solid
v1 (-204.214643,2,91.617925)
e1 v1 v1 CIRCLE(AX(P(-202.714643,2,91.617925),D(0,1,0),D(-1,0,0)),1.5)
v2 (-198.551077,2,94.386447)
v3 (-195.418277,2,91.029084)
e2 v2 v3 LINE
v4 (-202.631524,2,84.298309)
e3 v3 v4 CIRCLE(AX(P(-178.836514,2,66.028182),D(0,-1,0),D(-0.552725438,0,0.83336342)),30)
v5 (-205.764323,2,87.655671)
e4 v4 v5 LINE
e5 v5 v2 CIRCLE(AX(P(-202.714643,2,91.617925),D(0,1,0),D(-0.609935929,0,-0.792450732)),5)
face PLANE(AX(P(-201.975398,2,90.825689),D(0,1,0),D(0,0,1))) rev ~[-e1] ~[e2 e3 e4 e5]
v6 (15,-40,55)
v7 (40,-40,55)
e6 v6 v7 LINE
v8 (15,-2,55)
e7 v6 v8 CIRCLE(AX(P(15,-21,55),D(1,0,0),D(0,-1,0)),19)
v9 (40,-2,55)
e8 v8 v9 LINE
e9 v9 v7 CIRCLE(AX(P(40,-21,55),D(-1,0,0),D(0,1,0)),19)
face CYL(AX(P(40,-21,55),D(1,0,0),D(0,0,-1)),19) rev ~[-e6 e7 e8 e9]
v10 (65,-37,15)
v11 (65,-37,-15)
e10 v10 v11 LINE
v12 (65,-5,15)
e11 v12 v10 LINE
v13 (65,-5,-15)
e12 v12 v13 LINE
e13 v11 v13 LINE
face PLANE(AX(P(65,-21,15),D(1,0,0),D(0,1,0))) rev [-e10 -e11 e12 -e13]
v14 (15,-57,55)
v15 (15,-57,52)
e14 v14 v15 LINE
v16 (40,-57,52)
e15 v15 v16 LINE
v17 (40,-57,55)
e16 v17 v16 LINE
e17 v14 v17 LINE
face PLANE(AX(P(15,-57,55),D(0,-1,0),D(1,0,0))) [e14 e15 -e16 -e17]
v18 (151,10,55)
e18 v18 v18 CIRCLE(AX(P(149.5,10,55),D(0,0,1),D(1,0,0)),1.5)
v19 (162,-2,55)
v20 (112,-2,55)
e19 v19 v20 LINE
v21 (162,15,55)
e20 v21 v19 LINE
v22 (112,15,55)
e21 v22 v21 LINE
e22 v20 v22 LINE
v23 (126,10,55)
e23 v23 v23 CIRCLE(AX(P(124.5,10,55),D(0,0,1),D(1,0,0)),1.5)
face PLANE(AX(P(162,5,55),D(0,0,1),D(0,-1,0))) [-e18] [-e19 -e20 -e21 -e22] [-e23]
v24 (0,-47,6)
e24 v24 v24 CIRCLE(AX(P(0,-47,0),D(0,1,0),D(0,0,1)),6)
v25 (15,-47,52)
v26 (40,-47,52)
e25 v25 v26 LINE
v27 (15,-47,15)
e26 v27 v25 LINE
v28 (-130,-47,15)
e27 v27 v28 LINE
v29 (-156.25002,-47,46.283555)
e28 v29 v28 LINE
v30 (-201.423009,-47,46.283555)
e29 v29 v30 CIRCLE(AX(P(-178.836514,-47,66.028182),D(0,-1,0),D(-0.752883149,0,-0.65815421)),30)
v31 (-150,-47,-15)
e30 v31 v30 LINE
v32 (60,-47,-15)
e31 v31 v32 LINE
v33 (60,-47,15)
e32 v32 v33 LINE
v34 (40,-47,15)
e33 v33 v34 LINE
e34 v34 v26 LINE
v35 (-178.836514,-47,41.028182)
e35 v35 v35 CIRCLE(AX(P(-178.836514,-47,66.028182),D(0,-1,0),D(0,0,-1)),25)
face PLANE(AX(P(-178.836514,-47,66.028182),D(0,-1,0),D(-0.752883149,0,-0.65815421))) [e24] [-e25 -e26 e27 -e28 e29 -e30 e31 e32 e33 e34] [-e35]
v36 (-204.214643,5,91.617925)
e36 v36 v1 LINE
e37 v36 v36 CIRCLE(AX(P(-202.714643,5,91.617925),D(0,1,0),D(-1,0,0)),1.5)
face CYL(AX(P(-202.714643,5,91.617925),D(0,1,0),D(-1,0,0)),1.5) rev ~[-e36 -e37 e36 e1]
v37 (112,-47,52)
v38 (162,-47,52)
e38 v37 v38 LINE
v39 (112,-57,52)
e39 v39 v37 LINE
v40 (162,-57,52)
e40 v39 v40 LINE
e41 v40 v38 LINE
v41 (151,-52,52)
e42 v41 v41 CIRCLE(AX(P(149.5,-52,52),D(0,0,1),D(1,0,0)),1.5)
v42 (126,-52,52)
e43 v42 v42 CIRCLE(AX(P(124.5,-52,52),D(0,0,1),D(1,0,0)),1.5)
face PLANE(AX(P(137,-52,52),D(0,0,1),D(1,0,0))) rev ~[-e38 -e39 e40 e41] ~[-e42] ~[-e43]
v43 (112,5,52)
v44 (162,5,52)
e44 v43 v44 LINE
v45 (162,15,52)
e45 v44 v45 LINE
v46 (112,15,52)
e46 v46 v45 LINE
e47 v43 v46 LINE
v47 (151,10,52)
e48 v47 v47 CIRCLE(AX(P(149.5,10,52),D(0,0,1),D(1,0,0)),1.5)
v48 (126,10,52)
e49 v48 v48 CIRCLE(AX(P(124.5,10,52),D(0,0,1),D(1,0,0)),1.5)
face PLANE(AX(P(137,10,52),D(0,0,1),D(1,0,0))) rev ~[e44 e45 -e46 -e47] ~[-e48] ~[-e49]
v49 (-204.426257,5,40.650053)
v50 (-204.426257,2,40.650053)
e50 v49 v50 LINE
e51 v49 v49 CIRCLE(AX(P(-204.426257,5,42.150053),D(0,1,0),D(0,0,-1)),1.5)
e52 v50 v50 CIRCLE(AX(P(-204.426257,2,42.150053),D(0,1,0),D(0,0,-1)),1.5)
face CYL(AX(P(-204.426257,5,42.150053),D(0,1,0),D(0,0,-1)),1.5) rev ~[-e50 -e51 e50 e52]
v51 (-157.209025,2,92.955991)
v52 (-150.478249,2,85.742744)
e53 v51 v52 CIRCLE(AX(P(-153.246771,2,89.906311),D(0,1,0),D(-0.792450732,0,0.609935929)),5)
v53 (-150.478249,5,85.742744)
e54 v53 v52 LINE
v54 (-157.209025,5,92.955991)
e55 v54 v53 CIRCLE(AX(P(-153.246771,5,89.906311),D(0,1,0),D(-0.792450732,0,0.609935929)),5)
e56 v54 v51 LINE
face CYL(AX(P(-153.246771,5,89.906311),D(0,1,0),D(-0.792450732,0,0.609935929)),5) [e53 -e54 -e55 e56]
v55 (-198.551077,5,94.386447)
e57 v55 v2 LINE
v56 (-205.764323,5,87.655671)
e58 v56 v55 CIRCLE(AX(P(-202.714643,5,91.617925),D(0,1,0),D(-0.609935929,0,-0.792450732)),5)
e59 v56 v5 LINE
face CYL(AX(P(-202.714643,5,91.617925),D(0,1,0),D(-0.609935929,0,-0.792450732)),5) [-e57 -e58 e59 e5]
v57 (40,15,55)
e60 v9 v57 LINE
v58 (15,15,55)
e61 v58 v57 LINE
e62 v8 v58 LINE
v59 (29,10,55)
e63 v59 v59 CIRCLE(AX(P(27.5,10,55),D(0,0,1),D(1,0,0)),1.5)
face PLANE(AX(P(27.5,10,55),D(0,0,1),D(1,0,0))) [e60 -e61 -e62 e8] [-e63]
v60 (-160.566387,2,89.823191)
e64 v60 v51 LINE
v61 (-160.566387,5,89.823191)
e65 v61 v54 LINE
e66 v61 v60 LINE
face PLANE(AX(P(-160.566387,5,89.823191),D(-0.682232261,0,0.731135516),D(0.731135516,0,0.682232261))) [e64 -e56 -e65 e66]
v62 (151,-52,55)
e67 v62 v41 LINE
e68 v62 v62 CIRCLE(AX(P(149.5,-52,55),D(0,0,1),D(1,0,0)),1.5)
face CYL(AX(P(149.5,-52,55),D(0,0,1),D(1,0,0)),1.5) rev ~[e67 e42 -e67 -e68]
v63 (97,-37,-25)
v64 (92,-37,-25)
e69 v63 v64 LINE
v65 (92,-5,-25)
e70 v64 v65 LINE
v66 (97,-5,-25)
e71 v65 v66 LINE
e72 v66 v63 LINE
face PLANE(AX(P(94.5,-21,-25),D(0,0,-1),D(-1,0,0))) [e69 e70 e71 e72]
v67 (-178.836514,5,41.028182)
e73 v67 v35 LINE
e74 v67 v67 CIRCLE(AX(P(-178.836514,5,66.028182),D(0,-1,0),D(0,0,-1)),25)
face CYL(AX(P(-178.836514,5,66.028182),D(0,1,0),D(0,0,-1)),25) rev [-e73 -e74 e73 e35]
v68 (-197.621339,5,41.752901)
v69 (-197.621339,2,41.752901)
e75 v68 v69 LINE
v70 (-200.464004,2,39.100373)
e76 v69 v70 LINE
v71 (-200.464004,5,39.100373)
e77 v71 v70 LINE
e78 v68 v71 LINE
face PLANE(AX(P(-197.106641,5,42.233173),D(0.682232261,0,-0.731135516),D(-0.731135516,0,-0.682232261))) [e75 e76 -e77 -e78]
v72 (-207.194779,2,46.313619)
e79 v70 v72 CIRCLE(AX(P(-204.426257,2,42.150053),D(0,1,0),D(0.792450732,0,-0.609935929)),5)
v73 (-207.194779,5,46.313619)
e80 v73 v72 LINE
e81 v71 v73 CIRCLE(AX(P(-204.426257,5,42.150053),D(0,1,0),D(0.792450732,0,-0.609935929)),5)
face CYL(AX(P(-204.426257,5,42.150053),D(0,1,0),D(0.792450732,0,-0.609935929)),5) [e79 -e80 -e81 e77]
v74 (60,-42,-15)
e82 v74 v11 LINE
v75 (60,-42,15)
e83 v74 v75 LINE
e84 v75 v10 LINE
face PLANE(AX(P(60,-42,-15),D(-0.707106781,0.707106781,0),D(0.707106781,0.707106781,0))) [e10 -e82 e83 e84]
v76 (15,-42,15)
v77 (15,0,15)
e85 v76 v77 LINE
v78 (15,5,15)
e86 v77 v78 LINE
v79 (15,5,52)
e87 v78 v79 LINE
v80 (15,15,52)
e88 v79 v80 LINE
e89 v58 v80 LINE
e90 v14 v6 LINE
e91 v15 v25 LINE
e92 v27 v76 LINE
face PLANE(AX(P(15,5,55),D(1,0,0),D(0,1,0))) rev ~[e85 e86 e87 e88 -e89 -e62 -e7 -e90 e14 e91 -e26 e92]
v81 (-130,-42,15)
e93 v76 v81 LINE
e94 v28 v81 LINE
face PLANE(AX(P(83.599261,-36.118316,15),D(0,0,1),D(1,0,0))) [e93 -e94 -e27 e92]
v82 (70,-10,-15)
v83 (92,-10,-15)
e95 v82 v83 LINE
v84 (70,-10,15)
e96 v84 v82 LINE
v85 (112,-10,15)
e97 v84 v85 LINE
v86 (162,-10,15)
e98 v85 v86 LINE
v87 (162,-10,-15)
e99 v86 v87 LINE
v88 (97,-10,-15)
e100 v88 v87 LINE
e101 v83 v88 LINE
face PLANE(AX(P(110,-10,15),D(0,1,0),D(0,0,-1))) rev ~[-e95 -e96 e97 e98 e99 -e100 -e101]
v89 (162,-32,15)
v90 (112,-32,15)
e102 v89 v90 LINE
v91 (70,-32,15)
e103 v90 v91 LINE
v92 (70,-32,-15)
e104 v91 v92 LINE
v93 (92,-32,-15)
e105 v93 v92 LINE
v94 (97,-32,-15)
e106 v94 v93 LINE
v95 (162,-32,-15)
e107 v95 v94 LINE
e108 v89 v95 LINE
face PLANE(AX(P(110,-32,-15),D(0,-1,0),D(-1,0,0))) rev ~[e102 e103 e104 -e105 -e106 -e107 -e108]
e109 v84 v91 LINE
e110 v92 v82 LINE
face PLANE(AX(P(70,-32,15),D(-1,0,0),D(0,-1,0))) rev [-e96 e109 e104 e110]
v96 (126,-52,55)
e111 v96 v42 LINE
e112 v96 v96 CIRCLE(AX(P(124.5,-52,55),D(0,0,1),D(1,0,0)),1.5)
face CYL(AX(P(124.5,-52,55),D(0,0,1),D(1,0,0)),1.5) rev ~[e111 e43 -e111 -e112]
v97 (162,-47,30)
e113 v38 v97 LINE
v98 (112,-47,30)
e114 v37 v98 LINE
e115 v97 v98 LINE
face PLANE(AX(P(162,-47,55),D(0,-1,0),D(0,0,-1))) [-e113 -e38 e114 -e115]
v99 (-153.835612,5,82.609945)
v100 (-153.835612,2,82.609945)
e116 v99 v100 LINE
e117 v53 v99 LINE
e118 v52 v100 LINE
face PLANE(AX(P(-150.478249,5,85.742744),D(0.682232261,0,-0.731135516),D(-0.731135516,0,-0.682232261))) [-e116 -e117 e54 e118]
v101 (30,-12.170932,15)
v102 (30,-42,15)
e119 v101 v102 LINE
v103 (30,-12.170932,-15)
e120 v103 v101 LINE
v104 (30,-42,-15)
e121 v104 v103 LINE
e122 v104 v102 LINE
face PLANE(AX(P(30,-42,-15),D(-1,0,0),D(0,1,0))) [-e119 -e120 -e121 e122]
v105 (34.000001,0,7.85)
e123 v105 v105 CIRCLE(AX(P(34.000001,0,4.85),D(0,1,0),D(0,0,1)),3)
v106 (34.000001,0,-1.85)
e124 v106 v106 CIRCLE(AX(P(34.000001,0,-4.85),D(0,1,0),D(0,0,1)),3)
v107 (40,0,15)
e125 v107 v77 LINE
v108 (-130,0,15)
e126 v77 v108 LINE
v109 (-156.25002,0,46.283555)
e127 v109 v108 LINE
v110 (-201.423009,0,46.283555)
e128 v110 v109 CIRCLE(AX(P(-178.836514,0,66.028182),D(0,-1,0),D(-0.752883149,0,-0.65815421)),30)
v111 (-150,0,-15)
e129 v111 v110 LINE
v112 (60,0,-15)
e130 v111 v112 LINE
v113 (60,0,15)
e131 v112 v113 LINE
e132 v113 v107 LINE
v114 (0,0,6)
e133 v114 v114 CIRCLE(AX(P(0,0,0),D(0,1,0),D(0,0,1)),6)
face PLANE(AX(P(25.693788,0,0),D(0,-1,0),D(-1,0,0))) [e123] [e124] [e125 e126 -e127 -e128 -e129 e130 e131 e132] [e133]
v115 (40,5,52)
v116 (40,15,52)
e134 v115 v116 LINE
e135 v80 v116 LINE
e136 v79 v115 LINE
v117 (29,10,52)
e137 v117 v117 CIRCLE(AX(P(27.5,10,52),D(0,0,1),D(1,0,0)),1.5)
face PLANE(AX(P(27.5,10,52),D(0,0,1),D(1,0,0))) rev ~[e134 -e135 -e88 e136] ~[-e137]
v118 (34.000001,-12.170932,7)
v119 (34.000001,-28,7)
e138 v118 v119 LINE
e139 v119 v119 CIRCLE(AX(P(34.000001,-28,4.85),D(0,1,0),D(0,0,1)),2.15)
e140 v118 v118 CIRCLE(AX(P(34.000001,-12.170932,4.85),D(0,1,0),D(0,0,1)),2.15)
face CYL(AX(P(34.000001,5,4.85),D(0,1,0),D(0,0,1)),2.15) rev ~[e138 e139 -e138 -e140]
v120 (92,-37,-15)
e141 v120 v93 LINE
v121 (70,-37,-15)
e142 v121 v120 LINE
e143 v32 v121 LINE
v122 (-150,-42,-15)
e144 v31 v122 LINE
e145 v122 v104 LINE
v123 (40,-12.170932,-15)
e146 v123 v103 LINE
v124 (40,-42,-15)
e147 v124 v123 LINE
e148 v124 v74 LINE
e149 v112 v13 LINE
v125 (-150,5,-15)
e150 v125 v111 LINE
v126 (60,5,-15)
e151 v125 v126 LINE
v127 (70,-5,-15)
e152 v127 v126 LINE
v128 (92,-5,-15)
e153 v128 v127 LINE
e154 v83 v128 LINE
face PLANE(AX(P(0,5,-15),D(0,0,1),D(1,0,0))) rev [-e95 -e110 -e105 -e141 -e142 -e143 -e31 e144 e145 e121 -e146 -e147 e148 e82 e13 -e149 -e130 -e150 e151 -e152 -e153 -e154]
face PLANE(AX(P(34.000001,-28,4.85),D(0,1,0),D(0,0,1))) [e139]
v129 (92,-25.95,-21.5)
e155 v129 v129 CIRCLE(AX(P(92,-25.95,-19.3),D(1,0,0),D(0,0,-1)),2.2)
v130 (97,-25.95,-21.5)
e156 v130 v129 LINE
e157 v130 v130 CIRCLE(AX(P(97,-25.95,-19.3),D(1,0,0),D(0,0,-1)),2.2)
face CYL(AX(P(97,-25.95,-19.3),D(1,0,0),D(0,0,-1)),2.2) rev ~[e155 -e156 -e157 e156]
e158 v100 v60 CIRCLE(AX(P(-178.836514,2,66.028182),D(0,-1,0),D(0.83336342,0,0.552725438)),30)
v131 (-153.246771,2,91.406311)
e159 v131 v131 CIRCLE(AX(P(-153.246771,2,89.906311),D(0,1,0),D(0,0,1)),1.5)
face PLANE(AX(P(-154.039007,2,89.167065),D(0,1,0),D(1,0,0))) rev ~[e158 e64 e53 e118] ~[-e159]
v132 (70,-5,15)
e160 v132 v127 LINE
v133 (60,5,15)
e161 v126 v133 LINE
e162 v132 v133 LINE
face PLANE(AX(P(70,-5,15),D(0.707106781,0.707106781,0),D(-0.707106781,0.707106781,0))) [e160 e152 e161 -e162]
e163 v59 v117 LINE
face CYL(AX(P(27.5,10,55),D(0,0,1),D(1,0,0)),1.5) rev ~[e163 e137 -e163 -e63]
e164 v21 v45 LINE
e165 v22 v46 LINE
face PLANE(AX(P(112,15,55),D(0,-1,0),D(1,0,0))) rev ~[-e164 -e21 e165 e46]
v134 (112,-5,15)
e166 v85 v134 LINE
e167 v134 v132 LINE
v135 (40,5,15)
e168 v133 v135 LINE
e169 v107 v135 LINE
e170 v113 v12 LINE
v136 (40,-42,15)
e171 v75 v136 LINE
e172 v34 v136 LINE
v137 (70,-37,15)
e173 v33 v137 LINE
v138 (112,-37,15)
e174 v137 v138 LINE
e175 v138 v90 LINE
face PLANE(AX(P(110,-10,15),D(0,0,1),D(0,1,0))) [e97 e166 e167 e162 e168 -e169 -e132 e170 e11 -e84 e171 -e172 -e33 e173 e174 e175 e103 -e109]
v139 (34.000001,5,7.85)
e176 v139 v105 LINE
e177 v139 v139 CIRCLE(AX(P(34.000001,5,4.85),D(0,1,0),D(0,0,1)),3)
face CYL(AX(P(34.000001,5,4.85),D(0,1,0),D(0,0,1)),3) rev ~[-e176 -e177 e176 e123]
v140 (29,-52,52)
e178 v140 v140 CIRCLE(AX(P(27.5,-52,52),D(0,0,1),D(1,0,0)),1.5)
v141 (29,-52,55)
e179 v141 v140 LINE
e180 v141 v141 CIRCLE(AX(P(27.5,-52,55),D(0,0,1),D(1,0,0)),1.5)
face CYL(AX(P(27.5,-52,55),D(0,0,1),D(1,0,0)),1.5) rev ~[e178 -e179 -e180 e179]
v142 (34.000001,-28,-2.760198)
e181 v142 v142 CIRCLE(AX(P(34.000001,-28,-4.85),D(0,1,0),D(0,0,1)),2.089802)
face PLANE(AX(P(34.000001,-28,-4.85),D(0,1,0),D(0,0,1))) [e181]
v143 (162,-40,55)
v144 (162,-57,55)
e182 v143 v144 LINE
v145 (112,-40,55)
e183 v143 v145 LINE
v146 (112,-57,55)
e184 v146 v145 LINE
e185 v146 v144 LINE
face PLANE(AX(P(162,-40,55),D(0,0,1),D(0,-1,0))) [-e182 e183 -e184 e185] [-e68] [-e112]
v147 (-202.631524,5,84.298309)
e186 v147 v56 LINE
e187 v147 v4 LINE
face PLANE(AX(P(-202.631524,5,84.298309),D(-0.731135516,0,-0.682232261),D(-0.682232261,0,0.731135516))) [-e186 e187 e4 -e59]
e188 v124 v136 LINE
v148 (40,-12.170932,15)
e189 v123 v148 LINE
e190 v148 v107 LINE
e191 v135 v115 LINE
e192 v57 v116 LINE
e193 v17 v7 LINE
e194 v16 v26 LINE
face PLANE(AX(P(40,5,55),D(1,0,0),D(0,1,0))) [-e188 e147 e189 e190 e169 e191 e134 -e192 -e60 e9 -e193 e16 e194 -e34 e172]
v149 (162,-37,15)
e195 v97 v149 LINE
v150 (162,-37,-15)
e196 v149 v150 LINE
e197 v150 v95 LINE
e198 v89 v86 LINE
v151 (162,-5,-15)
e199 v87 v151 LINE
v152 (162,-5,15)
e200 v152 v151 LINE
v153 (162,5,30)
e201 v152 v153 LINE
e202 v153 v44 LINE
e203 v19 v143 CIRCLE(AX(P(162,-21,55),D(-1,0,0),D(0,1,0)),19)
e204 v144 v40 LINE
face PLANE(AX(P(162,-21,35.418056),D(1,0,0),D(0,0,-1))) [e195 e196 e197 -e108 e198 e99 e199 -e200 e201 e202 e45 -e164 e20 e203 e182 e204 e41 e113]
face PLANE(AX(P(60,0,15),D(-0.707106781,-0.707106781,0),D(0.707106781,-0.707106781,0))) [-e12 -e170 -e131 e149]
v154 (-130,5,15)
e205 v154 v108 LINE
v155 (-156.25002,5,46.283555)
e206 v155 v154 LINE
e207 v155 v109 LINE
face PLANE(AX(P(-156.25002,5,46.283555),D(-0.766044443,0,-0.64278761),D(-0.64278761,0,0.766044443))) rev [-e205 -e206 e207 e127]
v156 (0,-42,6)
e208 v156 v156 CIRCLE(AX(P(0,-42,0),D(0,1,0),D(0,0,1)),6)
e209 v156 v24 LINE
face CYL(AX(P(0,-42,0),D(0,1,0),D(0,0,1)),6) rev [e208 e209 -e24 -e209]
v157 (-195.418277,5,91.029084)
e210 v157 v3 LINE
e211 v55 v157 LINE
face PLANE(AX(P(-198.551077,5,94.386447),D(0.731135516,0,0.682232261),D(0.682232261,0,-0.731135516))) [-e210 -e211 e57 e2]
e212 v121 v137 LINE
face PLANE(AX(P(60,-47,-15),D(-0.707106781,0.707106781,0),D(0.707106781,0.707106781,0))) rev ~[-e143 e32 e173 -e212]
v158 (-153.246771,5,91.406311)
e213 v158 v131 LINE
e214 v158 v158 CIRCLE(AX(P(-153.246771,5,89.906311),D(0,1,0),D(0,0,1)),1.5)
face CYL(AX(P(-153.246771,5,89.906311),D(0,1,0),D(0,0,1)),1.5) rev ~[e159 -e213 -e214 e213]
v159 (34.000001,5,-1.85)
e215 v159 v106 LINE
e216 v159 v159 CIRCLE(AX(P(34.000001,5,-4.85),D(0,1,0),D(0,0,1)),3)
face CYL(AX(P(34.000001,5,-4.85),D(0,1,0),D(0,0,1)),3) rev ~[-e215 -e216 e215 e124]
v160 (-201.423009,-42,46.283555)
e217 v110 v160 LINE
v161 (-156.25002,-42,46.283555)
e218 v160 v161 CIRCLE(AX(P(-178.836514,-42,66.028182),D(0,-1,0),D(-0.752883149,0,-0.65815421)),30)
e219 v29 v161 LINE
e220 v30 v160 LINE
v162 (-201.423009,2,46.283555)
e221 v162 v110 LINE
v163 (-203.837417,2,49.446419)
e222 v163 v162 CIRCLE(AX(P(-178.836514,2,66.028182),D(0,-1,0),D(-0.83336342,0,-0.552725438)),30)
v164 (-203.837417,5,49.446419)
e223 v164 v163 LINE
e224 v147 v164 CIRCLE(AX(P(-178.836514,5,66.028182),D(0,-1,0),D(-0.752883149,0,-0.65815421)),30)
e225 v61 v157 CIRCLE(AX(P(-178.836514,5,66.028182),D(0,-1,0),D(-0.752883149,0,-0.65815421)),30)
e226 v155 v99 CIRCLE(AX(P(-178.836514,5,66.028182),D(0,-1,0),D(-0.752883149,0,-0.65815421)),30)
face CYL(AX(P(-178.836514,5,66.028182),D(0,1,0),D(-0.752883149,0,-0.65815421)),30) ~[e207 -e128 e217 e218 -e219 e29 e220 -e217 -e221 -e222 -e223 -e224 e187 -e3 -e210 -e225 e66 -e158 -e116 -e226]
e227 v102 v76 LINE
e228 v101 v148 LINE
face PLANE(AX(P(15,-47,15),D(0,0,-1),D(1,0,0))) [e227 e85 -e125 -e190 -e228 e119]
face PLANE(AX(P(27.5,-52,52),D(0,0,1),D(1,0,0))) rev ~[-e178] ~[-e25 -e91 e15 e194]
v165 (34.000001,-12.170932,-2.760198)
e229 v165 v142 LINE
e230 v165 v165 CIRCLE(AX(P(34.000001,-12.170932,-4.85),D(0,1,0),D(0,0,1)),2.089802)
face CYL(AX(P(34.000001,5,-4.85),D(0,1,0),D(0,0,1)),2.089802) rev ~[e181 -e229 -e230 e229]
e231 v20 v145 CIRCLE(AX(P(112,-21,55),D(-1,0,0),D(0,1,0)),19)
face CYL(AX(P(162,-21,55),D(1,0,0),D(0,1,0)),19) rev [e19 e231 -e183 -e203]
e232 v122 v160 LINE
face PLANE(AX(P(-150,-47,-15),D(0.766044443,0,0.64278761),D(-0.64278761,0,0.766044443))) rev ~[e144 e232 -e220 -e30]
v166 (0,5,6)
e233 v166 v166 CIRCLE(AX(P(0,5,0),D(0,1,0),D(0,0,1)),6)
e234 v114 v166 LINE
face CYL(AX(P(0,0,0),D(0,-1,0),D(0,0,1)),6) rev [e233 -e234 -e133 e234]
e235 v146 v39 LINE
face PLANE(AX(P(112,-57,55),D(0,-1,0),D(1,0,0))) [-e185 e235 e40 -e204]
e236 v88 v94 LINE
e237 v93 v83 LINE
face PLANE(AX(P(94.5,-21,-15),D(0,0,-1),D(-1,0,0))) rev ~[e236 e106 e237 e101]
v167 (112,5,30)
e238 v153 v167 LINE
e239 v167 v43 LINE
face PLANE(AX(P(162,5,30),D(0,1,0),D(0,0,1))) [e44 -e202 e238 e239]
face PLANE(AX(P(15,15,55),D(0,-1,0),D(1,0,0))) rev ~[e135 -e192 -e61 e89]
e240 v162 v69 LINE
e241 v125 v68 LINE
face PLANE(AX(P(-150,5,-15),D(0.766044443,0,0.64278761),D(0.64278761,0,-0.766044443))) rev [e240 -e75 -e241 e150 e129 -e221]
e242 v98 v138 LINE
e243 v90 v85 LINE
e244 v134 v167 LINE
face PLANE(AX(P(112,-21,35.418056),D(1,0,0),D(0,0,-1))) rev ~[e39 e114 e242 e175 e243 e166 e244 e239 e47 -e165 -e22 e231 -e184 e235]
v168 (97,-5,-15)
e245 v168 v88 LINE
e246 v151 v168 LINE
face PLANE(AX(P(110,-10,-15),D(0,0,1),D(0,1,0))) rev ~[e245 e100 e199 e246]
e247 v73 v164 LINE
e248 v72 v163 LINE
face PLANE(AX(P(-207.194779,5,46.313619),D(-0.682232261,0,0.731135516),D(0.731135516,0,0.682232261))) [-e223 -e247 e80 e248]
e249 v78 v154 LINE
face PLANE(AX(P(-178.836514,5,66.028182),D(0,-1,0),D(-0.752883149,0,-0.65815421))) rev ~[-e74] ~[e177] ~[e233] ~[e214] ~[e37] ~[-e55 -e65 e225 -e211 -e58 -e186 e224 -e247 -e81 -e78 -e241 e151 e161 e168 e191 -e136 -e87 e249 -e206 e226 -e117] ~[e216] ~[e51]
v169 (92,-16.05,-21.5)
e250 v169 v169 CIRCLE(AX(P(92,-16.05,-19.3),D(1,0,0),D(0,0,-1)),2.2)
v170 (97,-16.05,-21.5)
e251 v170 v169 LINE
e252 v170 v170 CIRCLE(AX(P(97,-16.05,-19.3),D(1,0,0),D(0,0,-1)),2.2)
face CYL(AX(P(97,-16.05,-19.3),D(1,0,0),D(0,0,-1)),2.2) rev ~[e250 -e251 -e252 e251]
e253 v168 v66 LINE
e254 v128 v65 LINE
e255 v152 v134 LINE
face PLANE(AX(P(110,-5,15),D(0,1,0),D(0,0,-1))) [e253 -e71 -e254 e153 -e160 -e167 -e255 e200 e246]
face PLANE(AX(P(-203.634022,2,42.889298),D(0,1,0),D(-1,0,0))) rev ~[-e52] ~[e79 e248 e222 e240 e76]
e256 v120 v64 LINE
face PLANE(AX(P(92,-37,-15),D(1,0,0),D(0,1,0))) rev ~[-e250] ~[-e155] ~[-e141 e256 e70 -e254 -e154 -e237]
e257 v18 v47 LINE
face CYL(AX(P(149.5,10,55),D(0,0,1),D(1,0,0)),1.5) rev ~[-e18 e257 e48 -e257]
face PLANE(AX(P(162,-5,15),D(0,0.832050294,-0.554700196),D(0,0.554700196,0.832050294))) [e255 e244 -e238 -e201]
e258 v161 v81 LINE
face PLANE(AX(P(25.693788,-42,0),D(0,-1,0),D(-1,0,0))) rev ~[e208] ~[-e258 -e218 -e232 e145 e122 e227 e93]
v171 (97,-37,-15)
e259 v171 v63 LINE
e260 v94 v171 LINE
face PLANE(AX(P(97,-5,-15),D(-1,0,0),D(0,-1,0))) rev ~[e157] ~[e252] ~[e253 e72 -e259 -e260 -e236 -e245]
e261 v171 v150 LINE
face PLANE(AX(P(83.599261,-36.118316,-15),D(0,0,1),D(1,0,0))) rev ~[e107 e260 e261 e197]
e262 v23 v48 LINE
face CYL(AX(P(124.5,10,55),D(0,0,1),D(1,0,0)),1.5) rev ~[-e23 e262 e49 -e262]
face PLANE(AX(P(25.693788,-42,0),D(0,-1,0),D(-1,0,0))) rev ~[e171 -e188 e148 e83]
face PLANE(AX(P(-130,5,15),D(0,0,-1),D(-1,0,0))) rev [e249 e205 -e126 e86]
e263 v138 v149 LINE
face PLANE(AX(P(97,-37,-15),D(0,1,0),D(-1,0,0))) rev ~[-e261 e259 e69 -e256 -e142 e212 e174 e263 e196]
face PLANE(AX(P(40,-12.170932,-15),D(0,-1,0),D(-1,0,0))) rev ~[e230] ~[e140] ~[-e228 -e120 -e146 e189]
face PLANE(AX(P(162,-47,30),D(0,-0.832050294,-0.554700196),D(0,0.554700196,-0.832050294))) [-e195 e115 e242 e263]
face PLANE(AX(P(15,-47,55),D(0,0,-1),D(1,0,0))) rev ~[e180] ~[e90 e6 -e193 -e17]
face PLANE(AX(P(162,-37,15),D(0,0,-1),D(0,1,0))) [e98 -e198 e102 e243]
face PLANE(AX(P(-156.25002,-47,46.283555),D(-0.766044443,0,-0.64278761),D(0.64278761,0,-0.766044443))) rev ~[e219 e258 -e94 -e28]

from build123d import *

# Parameters (mm, degrees)
SKETCH1_R            = 6
BOSS_EXTRUDE4_DEPTH  = 5
BOSS_EXTRUDE5_DEPTH  = 30
BOSS_EXTRUDE6_DEPTH  = 30
SKETCH11_R           = 6
BOSS_EXTRUDE7_DEPTH  = 5
BOSS_EXTRUDE8_DEPTH  = 30
BOSS_EXTRUDE9_DEPTH  = 10
CUT_EXTRUDE2_REACH   = 126.008
SKETCH14_R           = 2.2
SKETCH16_W           = 25
SKETCH16_H           = 40
BOSS_EXTRUDE10_DEPTH = 52
CUT_EXTRUDE4_REACH   = 102.668
SKETCH18_R           = 19
SKETCH19_W           = 30
SKETCH19_H           = 5
BOSS_EXTRUDE11_DEPTH = 52
BOSS_EXTRUDE12_DEPTH = 50
BOSS_EXTRUDE14_REACH = 184.628
SKETCH22_W           = 10.000000149
SKETCH22_H           = 29.829068408
SKETCH26_R           = 2.15
SKETCH26_R_2         = 2.089802204
CUT_EXTRUDE6_DEPTH   = 33
CUT_EXTRUDE7_REACH   = 180.81
SKETCH27_R           = 3
SKETCH21_W           = 25
SKETCH21_H           = 10
SKETCH21_R           = 1.5
SKETCH21_W_2         = 50
BOSS_EXTRUDE15_DEPTH = 3
BOSS_EXTRUDE16_DEPTH = 5
BOSS_EXTRUDE17_START = -52
SKETCH30_R           = 30
SKETCH30_R_2         = 25
BOSS_EXTRUDE17_DEPTH = 52
SKETCH31_R           = 1.5
BOSS_EXTRUDE18_DEPTH = 3
CIRPATTERN1_COUNT    = 3
CIRPATTERN1_ANGLE    = 180


with BuildPart() as part:
    # Sketch1 → Boss-Extrude4 (new body)
    with BuildSketch(Plane(origin=(0, 0, 0), x_dir=(1, 0, 0), z_dir=(0, 1, 0))):
        with BuildLine():
            Line((0, 15), (60, 15))
            Line((60, 15), (60, -15))
            Line((60, -15), (0, -15))
            ThreePointArc((0, -15), (-15, 0), (0, 15))
        make_face()
        with Locations(Location((0, 0, 0), (0, 0, 270))):
            Circle(SKETCH1_R, mode=Mode.SUBTRACT)
    extrude(amount=BOSS_EXTRUDE4_DEPTH)

    # Sketch8 → Boss-Extrude5 (add)
    with BuildSketch(Plane.XY.offset(15)):
        Polygon((60, 0), (70, -10), (110, -10), (110, -5), (70, -5), (60, 5), align=None)
    extrude(amount=-BOSS_EXTRUDE5_DEPTH)

    # Sketch9 → Boss-Extrude6 (add)
    with BuildSketch(Plane.XY.offset(15)):
        Polygon((70, -10), (70, -21), (65, -21), (65, -5), align=None)
    boss_extrude6 = extrude(amount=-BOSS_EXTRUDE6_DEPTH)

    # Mirror3: Boss-Extrude6 across plane
    add(boss_extrude6.mirror(Plane(origin=(70, -21, -15), x_dir=(0, 0, 1), z_dir=(0, -1, 0))))



with BuildPart() as body_2:
    # Sketch11 → Boss-Extrude7 (new body)
    with BuildSketch(Plane(origin=(0, -42, 0), x_dir=(-1, 0, 0), z_dir=(0, -1, 0))):
        with BuildLine():
            Line((0, 15), (-60, 15))
            Line((-60, 15), (-60, -15))
            Line((-60, -15), (0, -15))
            ThreePointArc((0, -15), (15, 0), (0, 15))
        make_face()
        with Locations(Location((0, 0, 0), (0, 0, 270))):
            Circle(SKETCH11_R, mode=Mode.SUBTRACT)
    extrude(amount=BOSS_EXTRUDE7_DEPTH)


with BuildPart() as part_1:
    add(part.part)

    add(body_2.part)  # Boss-Extrude8 merges body 2
    # Sketch12 → Boss-Extrude8 (add)
    with BuildSketch(Plane(origin=(0, 0, -15), x_dir=(-1, 0, 0), z_dir=(0, 0, -1))):
        Polygon((-70, -32), (-65, -37), (-60, -42), (-60, -47), (-70, -37), (-110, -37), (-110, -32), align=None)
    extrude(amount=-BOSS_EXTRUDE8_DEPTH)

    # Sketch13 → Boss-Extrude9 (add)
    with BuildSketch(Plane(origin=(0, 0, -15), x_dir=(-1, 0, 0), z_dir=(0, 0, -1))):
        Polygon((-97, -10), (-97, -37), (-92, -37), (-92, -5), (-97, -5), align=None)
    extrude(amount=BOSS_EXTRUDE9_DEPTH)

    # Sketch14 → Cut-Extrude2 (cut, up to next)
    with BuildSketch(Plane(origin=(97, 0, 0), x_dir=(0, 0, -1), z_dir=(1, 0, 0)), mode=Mode.PRIVATE) as cut_extrude2_sk1:
        with Locations((19.3, -16.05)):
            Circle(SKETCH14_R)
    cut_extrude2_tool1 = extrude(cut_extrude2_sk1.sketch, amount=-CUT_EXTRUDE2_REACH, mode=Mode.PRIVATE) & part_1.part
    # Sketch14 → Cut-Extrude2 (cut, up to next)
    with BuildSketch(Plane(origin=(97, 0, 0), x_dir=(0, 0, -1), z_dir=(1, 0, 0)), mode=Mode.PRIVATE) as cut_extrude2_sk2:
        with Locations((19.3, -25.95)):
            Circle(SKETCH14_R)
    cut_extrude2_tool2 = extrude(cut_extrude2_sk2.sketch, amount=-CUT_EXTRUDE2_REACH, mode=Mode.PRIVATE) & part_1.part
    add(cut_extrude2_tool1.solids().sort_by_distance((97, -16.05, -19.3))[0], mode=Mode.SUBTRACT)
    add(cut_extrude2_tool2.solids().sort_by_distance((97, -25.95, -19.3))[0], mode=Mode.SUBTRACT)

    # Sketch16 → Boss-Extrude10 (add)
    with BuildSketch(Plane.XZ.offset(47)):
        with Locations((27.5, 35)):
            Rectangle(SKETCH16_W, SKETCH16_H)
    extrude(amount=-BOSS_EXTRUDE10_DEPTH)

    # Sketch18 → Cut-Extrude4 (cut, up to next)
    with BuildSketch(Plane(origin=(40, 0, 0), x_dir=(0, 0, -1), z_dir=(1, 0, 0)), mode=Mode.PRIVATE) as cut_extrude4_sk1:
        with Locations((-55, -21)):
            Circle(SKETCH18_R)
    cut_extrude4_tool1 = extrude(cut_extrude4_sk1.sketch, amount=-CUT_EXTRUDE4_REACH, mode=Mode.PRIVATE) & part_1.part
    add(cut_extrude4_tool1.solids().sort_by_distance((40, -21, 55))[0], mode=Mode.SUBTRACT)

    # Sketch19 → Boss-Extrude11 (add)
    with BuildSketch(Plane(origin=(110, 0, 0), x_dir=(0, 0, -1), z_dir=(1, 0, 0))):
        with Locations((0, -7.5)):
            Rectangle(SKETCH19_W, SKETCH19_H)
        with Locations((0, -34.5)):
            Rectangle(SKETCH19_W, SKETCH19_H)
    extrude(amount=BOSS_EXTRUDE11_DEPTH)

    # Sketch20 → Boss-Extrude12 (add)
    with BuildSketch(Plane(origin=(162, 0, 0), x_dir=(0, 0, -1), z_dir=(1, 0, 0))):
        with BuildLine():
            Line((-55, 5), (-55, -2))
            ThreePointArc((-55, -2), (-36, -21), (-55, -40))
            Line((-55, -40), (-55, -47))
            Line((-55, -47), (-30, -47))
            Line((-30, -47), (-15, -37))
            Line((-15, -37), (-15, -5))
            Line((-15, -5), (-30, 5))
            Line((-30, 5), (-55, 5))
        make_face()
    extrude(amount=-BOSS_EXTRUDE12_DEPTH)

    # Sketch22 → Boss-Extrude14 (add, up to next)
    with BuildSketch(Plane(origin=(0, 0, -15), x_dir=(-1, 0, 0), z_dir=(0, 0, -1)), mode=Mode.PRIVATE) as boss_extrude14_sk1:
        with Locations((-34.999999925, -27.085465796)):
            Rectangle(SKETCH22_W, SKETCH22_H)
    boss_extrude14_tool1 = extrude(boss_extrude14_sk1.sketch, amount=-BOSS_EXTRUDE14_REACH, mode=Mode.PRIVATE) - part_1.part
    add(boss_extrude14_tool1.solids().sort_by_distance((35, -27.085466, -15))[0])

    # Sketch26 → Cut-Extrude6 (cut)
    with BuildSketch(Plane(origin=(0, 5, 0), x_dir=(1, 0, 0), z_dir=(0, 1, 0))):
        with Locations(Location((34.000000507, -4.85, 0), (0, 0, 270))):
            Circle(SKETCH26_R)
        with Locations(Location((34.000000507, 4.85, 0), (0, 0, 270))):
            Circle(SKETCH26_R_2)
    extrude(amount=-CUT_EXTRUDE6_DEPTH, mode=Mode.SUBTRACT)

    # Sketch27 → Cut-Extrude7 (cut, up to next)
    with BuildSketch(Plane(origin=(0, 5, 0), x_dir=(1, 0, 0), z_dir=(0, 1, 0)), mode=Mode.PRIVATE) as cut_extrude7_sk1:
        with Locations(Location((34.000000507, 4.85, 0), (0, 0, 270))):
            Circle(SKETCH27_R)
    cut_extrude7_tool1 = extrude(cut_extrude7_sk1.sketch, amount=-CUT_EXTRUDE7_REACH, mode=Mode.PRIVATE) & part_1.part
    # Sketch27 → Cut-Extrude7 (cut, up to next)
    with BuildSketch(Plane(origin=(0, 5, 0), x_dir=(1, 0, 0), z_dir=(0, 1, 0)), mode=Mode.PRIVATE) as cut_extrude7_sk2:
        with Locations(Location((34.000000507, -4.85, 0), (0, 0, 270))):
            Circle(SKETCH27_R)
    cut_extrude7_tool2 = extrude(cut_extrude7_sk2.sketch, amount=-CUT_EXTRUDE7_REACH, mode=Mode.PRIVATE) & part_1.part
    add(cut_extrude7_tool1.solids().sort_by_distance((34.000001, 5, -4.85))[0], mode=Mode.SUBTRACT)
    add(cut_extrude7_tool2.solids().sort_by_distance((34.000001, 5, 4.85))[0], mode=Mode.SUBTRACT)

    # Sketch21 → Boss-Extrude15 (add)
    # profile 1 of 4: a face of its own
    with BuildSketch(Plane.XY.offset(55)):
        with Locations((27.5, 10)):
            Rectangle(SKETCH21_W, SKETCH21_H)
        with Locations((27.5, 10)):
            Circle(SKETCH21_R, mode=Mode.SUBTRACT)
    # profile 2 of 4: a face of its own
    with BuildSketch(Plane.XY.offset(55)):
        with Locations((27.5, -52)):
            Rectangle(SKETCH21_W, SKETCH21_H)
        with Locations((27.5, -52)):
            Circle(SKETCH21_R, mode=Mode.SUBTRACT)
    # profile 3 of 4: a face of its own
    with BuildSketch(Plane.XY.offset(55)):
        with Locations((137, 10)):
            Rectangle(SKETCH21_W_2, SKETCH21_H)
        with Locations((124.5, 10)):
            Circle(SKETCH21_R, mode=Mode.SUBTRACT)
        with Locations((149.5, 10)):
            Circle(SKETCH21_R, mode=Mode.SUBTRACT)
    # profile 4 of 4: a face of its own
    with BuildSketch(Plane.XY.offset(55)):
        with Locations((137, -52)):
            Rectangle(SKETCH21_W_2, SKETCH21_H)
        with Locations((124.5, -52)):
            Circle(SKETCH21_R, mode=Mode.SUBTRACT)
        with Locations((149.5, -52)):
            Circle(SKETCH21_R, mode=Mode.SUBTRACT)
    extrude(amount=-BOSS_EXTRUDE15_DEPTH)

    # Sketch28 → Boss-Extrude16 (add)
    with BuildSketch(Plane.XZ.offset(47)):
        with BuildLine():
            Line((0, 15), (0, 6))
            Line((0, 6), (-6, 6))
            Line((-6, 6), (-6, -6))
            Line((-6, -6), (0, -6))
            Line((0, -6), (0, -15))
            Line((0, -15), (-150, -15))
            Line((-150, -15), (-201.423008775, 46.28355545))
            ThreePointArc((-201.423008775, 46.28355545), (-178.836514307, 36.028181748), (-156.25001984, 46.28355545))
            Line((-156.25001984, 46.28355545), (-130, 15))
            Line((-130, 15), (0, 15))
        make_face()
    boss_extrude16 = extrude(amount=-BOSS_EXTRUDE16_DEPTH)

    # Mirror4: Boss-Extrude16 across plane
    add(boss_extrude16.mirror(Plane(origin=(0, -21, 0), x_dir=(0, 0, 1), z_dir=(0, -1, 0))))

    # Sketch30 → Boss-Extrude17 (add)
    with BuildSketch(Plane.XZ.offset(47).offset(BOSS_EXTRUDE17_START)):
        with Locations(Location((-178.836514307, 66.028181748, 0), (0, 0, 221.159253818))):
            Circle(SKETCH30_R)
        with Locations(Location((-178.836514307, 66.028181748, 0), (0, 0, 270))):
            Circle(SKETCH30_R_2, mode=Mode.SUBTRACT)
    extrude(amount=BOSS_EXTRUDE17_DEPTH)

    # Sketch31 → Boss-Extrude18 (add)
    with BuildSketch(Plane(origin=(0, 5, 0), x_dir=(1, 0, 0), z_dir=(0, 1, 0))):
        with BuildLine():
            Line((-160.566387425, -89.823190966), (-157.209024914, -92.955990517))
            ThreePointArc((-157.209024914, -92.955990517), (-149.591093676, -93.317472176), (-150.478249183, -85.742744428))
            Line((-150.478249183, -85.742744428), (-153.835611693, -82.609944877))
            ThreePointArc((-153.835611693, -82.609944877), (-156.902448834, -86.495149569), (-160.566387425, -89.823190966))
        make_face()
        with Locations(Location((-153.246771255, -89.906310873, 0), (0, 0, 270))):
            Circle(SKETCH31_R, mode=Mode.SUBTRACT)
    boss_extrude18 = extrude(amount=-BOSS_EXTRUDE18_DEPTH)

    # CirPattern1: Boss-Extrude18 ×3 about axis
    cirpattern1_axis = Axis((-178.836514307, 0, 66.028181748), (0, -1, 0))
    for i in range(1, CIRPATTERN1_COUNT):
        add(boss_extrude18.rotate(cirpattern1_axis, i * CIRPATTERN1_ANGLE / (CIRPATTERN1_COUNT - 1)))


solid = part_1.part
